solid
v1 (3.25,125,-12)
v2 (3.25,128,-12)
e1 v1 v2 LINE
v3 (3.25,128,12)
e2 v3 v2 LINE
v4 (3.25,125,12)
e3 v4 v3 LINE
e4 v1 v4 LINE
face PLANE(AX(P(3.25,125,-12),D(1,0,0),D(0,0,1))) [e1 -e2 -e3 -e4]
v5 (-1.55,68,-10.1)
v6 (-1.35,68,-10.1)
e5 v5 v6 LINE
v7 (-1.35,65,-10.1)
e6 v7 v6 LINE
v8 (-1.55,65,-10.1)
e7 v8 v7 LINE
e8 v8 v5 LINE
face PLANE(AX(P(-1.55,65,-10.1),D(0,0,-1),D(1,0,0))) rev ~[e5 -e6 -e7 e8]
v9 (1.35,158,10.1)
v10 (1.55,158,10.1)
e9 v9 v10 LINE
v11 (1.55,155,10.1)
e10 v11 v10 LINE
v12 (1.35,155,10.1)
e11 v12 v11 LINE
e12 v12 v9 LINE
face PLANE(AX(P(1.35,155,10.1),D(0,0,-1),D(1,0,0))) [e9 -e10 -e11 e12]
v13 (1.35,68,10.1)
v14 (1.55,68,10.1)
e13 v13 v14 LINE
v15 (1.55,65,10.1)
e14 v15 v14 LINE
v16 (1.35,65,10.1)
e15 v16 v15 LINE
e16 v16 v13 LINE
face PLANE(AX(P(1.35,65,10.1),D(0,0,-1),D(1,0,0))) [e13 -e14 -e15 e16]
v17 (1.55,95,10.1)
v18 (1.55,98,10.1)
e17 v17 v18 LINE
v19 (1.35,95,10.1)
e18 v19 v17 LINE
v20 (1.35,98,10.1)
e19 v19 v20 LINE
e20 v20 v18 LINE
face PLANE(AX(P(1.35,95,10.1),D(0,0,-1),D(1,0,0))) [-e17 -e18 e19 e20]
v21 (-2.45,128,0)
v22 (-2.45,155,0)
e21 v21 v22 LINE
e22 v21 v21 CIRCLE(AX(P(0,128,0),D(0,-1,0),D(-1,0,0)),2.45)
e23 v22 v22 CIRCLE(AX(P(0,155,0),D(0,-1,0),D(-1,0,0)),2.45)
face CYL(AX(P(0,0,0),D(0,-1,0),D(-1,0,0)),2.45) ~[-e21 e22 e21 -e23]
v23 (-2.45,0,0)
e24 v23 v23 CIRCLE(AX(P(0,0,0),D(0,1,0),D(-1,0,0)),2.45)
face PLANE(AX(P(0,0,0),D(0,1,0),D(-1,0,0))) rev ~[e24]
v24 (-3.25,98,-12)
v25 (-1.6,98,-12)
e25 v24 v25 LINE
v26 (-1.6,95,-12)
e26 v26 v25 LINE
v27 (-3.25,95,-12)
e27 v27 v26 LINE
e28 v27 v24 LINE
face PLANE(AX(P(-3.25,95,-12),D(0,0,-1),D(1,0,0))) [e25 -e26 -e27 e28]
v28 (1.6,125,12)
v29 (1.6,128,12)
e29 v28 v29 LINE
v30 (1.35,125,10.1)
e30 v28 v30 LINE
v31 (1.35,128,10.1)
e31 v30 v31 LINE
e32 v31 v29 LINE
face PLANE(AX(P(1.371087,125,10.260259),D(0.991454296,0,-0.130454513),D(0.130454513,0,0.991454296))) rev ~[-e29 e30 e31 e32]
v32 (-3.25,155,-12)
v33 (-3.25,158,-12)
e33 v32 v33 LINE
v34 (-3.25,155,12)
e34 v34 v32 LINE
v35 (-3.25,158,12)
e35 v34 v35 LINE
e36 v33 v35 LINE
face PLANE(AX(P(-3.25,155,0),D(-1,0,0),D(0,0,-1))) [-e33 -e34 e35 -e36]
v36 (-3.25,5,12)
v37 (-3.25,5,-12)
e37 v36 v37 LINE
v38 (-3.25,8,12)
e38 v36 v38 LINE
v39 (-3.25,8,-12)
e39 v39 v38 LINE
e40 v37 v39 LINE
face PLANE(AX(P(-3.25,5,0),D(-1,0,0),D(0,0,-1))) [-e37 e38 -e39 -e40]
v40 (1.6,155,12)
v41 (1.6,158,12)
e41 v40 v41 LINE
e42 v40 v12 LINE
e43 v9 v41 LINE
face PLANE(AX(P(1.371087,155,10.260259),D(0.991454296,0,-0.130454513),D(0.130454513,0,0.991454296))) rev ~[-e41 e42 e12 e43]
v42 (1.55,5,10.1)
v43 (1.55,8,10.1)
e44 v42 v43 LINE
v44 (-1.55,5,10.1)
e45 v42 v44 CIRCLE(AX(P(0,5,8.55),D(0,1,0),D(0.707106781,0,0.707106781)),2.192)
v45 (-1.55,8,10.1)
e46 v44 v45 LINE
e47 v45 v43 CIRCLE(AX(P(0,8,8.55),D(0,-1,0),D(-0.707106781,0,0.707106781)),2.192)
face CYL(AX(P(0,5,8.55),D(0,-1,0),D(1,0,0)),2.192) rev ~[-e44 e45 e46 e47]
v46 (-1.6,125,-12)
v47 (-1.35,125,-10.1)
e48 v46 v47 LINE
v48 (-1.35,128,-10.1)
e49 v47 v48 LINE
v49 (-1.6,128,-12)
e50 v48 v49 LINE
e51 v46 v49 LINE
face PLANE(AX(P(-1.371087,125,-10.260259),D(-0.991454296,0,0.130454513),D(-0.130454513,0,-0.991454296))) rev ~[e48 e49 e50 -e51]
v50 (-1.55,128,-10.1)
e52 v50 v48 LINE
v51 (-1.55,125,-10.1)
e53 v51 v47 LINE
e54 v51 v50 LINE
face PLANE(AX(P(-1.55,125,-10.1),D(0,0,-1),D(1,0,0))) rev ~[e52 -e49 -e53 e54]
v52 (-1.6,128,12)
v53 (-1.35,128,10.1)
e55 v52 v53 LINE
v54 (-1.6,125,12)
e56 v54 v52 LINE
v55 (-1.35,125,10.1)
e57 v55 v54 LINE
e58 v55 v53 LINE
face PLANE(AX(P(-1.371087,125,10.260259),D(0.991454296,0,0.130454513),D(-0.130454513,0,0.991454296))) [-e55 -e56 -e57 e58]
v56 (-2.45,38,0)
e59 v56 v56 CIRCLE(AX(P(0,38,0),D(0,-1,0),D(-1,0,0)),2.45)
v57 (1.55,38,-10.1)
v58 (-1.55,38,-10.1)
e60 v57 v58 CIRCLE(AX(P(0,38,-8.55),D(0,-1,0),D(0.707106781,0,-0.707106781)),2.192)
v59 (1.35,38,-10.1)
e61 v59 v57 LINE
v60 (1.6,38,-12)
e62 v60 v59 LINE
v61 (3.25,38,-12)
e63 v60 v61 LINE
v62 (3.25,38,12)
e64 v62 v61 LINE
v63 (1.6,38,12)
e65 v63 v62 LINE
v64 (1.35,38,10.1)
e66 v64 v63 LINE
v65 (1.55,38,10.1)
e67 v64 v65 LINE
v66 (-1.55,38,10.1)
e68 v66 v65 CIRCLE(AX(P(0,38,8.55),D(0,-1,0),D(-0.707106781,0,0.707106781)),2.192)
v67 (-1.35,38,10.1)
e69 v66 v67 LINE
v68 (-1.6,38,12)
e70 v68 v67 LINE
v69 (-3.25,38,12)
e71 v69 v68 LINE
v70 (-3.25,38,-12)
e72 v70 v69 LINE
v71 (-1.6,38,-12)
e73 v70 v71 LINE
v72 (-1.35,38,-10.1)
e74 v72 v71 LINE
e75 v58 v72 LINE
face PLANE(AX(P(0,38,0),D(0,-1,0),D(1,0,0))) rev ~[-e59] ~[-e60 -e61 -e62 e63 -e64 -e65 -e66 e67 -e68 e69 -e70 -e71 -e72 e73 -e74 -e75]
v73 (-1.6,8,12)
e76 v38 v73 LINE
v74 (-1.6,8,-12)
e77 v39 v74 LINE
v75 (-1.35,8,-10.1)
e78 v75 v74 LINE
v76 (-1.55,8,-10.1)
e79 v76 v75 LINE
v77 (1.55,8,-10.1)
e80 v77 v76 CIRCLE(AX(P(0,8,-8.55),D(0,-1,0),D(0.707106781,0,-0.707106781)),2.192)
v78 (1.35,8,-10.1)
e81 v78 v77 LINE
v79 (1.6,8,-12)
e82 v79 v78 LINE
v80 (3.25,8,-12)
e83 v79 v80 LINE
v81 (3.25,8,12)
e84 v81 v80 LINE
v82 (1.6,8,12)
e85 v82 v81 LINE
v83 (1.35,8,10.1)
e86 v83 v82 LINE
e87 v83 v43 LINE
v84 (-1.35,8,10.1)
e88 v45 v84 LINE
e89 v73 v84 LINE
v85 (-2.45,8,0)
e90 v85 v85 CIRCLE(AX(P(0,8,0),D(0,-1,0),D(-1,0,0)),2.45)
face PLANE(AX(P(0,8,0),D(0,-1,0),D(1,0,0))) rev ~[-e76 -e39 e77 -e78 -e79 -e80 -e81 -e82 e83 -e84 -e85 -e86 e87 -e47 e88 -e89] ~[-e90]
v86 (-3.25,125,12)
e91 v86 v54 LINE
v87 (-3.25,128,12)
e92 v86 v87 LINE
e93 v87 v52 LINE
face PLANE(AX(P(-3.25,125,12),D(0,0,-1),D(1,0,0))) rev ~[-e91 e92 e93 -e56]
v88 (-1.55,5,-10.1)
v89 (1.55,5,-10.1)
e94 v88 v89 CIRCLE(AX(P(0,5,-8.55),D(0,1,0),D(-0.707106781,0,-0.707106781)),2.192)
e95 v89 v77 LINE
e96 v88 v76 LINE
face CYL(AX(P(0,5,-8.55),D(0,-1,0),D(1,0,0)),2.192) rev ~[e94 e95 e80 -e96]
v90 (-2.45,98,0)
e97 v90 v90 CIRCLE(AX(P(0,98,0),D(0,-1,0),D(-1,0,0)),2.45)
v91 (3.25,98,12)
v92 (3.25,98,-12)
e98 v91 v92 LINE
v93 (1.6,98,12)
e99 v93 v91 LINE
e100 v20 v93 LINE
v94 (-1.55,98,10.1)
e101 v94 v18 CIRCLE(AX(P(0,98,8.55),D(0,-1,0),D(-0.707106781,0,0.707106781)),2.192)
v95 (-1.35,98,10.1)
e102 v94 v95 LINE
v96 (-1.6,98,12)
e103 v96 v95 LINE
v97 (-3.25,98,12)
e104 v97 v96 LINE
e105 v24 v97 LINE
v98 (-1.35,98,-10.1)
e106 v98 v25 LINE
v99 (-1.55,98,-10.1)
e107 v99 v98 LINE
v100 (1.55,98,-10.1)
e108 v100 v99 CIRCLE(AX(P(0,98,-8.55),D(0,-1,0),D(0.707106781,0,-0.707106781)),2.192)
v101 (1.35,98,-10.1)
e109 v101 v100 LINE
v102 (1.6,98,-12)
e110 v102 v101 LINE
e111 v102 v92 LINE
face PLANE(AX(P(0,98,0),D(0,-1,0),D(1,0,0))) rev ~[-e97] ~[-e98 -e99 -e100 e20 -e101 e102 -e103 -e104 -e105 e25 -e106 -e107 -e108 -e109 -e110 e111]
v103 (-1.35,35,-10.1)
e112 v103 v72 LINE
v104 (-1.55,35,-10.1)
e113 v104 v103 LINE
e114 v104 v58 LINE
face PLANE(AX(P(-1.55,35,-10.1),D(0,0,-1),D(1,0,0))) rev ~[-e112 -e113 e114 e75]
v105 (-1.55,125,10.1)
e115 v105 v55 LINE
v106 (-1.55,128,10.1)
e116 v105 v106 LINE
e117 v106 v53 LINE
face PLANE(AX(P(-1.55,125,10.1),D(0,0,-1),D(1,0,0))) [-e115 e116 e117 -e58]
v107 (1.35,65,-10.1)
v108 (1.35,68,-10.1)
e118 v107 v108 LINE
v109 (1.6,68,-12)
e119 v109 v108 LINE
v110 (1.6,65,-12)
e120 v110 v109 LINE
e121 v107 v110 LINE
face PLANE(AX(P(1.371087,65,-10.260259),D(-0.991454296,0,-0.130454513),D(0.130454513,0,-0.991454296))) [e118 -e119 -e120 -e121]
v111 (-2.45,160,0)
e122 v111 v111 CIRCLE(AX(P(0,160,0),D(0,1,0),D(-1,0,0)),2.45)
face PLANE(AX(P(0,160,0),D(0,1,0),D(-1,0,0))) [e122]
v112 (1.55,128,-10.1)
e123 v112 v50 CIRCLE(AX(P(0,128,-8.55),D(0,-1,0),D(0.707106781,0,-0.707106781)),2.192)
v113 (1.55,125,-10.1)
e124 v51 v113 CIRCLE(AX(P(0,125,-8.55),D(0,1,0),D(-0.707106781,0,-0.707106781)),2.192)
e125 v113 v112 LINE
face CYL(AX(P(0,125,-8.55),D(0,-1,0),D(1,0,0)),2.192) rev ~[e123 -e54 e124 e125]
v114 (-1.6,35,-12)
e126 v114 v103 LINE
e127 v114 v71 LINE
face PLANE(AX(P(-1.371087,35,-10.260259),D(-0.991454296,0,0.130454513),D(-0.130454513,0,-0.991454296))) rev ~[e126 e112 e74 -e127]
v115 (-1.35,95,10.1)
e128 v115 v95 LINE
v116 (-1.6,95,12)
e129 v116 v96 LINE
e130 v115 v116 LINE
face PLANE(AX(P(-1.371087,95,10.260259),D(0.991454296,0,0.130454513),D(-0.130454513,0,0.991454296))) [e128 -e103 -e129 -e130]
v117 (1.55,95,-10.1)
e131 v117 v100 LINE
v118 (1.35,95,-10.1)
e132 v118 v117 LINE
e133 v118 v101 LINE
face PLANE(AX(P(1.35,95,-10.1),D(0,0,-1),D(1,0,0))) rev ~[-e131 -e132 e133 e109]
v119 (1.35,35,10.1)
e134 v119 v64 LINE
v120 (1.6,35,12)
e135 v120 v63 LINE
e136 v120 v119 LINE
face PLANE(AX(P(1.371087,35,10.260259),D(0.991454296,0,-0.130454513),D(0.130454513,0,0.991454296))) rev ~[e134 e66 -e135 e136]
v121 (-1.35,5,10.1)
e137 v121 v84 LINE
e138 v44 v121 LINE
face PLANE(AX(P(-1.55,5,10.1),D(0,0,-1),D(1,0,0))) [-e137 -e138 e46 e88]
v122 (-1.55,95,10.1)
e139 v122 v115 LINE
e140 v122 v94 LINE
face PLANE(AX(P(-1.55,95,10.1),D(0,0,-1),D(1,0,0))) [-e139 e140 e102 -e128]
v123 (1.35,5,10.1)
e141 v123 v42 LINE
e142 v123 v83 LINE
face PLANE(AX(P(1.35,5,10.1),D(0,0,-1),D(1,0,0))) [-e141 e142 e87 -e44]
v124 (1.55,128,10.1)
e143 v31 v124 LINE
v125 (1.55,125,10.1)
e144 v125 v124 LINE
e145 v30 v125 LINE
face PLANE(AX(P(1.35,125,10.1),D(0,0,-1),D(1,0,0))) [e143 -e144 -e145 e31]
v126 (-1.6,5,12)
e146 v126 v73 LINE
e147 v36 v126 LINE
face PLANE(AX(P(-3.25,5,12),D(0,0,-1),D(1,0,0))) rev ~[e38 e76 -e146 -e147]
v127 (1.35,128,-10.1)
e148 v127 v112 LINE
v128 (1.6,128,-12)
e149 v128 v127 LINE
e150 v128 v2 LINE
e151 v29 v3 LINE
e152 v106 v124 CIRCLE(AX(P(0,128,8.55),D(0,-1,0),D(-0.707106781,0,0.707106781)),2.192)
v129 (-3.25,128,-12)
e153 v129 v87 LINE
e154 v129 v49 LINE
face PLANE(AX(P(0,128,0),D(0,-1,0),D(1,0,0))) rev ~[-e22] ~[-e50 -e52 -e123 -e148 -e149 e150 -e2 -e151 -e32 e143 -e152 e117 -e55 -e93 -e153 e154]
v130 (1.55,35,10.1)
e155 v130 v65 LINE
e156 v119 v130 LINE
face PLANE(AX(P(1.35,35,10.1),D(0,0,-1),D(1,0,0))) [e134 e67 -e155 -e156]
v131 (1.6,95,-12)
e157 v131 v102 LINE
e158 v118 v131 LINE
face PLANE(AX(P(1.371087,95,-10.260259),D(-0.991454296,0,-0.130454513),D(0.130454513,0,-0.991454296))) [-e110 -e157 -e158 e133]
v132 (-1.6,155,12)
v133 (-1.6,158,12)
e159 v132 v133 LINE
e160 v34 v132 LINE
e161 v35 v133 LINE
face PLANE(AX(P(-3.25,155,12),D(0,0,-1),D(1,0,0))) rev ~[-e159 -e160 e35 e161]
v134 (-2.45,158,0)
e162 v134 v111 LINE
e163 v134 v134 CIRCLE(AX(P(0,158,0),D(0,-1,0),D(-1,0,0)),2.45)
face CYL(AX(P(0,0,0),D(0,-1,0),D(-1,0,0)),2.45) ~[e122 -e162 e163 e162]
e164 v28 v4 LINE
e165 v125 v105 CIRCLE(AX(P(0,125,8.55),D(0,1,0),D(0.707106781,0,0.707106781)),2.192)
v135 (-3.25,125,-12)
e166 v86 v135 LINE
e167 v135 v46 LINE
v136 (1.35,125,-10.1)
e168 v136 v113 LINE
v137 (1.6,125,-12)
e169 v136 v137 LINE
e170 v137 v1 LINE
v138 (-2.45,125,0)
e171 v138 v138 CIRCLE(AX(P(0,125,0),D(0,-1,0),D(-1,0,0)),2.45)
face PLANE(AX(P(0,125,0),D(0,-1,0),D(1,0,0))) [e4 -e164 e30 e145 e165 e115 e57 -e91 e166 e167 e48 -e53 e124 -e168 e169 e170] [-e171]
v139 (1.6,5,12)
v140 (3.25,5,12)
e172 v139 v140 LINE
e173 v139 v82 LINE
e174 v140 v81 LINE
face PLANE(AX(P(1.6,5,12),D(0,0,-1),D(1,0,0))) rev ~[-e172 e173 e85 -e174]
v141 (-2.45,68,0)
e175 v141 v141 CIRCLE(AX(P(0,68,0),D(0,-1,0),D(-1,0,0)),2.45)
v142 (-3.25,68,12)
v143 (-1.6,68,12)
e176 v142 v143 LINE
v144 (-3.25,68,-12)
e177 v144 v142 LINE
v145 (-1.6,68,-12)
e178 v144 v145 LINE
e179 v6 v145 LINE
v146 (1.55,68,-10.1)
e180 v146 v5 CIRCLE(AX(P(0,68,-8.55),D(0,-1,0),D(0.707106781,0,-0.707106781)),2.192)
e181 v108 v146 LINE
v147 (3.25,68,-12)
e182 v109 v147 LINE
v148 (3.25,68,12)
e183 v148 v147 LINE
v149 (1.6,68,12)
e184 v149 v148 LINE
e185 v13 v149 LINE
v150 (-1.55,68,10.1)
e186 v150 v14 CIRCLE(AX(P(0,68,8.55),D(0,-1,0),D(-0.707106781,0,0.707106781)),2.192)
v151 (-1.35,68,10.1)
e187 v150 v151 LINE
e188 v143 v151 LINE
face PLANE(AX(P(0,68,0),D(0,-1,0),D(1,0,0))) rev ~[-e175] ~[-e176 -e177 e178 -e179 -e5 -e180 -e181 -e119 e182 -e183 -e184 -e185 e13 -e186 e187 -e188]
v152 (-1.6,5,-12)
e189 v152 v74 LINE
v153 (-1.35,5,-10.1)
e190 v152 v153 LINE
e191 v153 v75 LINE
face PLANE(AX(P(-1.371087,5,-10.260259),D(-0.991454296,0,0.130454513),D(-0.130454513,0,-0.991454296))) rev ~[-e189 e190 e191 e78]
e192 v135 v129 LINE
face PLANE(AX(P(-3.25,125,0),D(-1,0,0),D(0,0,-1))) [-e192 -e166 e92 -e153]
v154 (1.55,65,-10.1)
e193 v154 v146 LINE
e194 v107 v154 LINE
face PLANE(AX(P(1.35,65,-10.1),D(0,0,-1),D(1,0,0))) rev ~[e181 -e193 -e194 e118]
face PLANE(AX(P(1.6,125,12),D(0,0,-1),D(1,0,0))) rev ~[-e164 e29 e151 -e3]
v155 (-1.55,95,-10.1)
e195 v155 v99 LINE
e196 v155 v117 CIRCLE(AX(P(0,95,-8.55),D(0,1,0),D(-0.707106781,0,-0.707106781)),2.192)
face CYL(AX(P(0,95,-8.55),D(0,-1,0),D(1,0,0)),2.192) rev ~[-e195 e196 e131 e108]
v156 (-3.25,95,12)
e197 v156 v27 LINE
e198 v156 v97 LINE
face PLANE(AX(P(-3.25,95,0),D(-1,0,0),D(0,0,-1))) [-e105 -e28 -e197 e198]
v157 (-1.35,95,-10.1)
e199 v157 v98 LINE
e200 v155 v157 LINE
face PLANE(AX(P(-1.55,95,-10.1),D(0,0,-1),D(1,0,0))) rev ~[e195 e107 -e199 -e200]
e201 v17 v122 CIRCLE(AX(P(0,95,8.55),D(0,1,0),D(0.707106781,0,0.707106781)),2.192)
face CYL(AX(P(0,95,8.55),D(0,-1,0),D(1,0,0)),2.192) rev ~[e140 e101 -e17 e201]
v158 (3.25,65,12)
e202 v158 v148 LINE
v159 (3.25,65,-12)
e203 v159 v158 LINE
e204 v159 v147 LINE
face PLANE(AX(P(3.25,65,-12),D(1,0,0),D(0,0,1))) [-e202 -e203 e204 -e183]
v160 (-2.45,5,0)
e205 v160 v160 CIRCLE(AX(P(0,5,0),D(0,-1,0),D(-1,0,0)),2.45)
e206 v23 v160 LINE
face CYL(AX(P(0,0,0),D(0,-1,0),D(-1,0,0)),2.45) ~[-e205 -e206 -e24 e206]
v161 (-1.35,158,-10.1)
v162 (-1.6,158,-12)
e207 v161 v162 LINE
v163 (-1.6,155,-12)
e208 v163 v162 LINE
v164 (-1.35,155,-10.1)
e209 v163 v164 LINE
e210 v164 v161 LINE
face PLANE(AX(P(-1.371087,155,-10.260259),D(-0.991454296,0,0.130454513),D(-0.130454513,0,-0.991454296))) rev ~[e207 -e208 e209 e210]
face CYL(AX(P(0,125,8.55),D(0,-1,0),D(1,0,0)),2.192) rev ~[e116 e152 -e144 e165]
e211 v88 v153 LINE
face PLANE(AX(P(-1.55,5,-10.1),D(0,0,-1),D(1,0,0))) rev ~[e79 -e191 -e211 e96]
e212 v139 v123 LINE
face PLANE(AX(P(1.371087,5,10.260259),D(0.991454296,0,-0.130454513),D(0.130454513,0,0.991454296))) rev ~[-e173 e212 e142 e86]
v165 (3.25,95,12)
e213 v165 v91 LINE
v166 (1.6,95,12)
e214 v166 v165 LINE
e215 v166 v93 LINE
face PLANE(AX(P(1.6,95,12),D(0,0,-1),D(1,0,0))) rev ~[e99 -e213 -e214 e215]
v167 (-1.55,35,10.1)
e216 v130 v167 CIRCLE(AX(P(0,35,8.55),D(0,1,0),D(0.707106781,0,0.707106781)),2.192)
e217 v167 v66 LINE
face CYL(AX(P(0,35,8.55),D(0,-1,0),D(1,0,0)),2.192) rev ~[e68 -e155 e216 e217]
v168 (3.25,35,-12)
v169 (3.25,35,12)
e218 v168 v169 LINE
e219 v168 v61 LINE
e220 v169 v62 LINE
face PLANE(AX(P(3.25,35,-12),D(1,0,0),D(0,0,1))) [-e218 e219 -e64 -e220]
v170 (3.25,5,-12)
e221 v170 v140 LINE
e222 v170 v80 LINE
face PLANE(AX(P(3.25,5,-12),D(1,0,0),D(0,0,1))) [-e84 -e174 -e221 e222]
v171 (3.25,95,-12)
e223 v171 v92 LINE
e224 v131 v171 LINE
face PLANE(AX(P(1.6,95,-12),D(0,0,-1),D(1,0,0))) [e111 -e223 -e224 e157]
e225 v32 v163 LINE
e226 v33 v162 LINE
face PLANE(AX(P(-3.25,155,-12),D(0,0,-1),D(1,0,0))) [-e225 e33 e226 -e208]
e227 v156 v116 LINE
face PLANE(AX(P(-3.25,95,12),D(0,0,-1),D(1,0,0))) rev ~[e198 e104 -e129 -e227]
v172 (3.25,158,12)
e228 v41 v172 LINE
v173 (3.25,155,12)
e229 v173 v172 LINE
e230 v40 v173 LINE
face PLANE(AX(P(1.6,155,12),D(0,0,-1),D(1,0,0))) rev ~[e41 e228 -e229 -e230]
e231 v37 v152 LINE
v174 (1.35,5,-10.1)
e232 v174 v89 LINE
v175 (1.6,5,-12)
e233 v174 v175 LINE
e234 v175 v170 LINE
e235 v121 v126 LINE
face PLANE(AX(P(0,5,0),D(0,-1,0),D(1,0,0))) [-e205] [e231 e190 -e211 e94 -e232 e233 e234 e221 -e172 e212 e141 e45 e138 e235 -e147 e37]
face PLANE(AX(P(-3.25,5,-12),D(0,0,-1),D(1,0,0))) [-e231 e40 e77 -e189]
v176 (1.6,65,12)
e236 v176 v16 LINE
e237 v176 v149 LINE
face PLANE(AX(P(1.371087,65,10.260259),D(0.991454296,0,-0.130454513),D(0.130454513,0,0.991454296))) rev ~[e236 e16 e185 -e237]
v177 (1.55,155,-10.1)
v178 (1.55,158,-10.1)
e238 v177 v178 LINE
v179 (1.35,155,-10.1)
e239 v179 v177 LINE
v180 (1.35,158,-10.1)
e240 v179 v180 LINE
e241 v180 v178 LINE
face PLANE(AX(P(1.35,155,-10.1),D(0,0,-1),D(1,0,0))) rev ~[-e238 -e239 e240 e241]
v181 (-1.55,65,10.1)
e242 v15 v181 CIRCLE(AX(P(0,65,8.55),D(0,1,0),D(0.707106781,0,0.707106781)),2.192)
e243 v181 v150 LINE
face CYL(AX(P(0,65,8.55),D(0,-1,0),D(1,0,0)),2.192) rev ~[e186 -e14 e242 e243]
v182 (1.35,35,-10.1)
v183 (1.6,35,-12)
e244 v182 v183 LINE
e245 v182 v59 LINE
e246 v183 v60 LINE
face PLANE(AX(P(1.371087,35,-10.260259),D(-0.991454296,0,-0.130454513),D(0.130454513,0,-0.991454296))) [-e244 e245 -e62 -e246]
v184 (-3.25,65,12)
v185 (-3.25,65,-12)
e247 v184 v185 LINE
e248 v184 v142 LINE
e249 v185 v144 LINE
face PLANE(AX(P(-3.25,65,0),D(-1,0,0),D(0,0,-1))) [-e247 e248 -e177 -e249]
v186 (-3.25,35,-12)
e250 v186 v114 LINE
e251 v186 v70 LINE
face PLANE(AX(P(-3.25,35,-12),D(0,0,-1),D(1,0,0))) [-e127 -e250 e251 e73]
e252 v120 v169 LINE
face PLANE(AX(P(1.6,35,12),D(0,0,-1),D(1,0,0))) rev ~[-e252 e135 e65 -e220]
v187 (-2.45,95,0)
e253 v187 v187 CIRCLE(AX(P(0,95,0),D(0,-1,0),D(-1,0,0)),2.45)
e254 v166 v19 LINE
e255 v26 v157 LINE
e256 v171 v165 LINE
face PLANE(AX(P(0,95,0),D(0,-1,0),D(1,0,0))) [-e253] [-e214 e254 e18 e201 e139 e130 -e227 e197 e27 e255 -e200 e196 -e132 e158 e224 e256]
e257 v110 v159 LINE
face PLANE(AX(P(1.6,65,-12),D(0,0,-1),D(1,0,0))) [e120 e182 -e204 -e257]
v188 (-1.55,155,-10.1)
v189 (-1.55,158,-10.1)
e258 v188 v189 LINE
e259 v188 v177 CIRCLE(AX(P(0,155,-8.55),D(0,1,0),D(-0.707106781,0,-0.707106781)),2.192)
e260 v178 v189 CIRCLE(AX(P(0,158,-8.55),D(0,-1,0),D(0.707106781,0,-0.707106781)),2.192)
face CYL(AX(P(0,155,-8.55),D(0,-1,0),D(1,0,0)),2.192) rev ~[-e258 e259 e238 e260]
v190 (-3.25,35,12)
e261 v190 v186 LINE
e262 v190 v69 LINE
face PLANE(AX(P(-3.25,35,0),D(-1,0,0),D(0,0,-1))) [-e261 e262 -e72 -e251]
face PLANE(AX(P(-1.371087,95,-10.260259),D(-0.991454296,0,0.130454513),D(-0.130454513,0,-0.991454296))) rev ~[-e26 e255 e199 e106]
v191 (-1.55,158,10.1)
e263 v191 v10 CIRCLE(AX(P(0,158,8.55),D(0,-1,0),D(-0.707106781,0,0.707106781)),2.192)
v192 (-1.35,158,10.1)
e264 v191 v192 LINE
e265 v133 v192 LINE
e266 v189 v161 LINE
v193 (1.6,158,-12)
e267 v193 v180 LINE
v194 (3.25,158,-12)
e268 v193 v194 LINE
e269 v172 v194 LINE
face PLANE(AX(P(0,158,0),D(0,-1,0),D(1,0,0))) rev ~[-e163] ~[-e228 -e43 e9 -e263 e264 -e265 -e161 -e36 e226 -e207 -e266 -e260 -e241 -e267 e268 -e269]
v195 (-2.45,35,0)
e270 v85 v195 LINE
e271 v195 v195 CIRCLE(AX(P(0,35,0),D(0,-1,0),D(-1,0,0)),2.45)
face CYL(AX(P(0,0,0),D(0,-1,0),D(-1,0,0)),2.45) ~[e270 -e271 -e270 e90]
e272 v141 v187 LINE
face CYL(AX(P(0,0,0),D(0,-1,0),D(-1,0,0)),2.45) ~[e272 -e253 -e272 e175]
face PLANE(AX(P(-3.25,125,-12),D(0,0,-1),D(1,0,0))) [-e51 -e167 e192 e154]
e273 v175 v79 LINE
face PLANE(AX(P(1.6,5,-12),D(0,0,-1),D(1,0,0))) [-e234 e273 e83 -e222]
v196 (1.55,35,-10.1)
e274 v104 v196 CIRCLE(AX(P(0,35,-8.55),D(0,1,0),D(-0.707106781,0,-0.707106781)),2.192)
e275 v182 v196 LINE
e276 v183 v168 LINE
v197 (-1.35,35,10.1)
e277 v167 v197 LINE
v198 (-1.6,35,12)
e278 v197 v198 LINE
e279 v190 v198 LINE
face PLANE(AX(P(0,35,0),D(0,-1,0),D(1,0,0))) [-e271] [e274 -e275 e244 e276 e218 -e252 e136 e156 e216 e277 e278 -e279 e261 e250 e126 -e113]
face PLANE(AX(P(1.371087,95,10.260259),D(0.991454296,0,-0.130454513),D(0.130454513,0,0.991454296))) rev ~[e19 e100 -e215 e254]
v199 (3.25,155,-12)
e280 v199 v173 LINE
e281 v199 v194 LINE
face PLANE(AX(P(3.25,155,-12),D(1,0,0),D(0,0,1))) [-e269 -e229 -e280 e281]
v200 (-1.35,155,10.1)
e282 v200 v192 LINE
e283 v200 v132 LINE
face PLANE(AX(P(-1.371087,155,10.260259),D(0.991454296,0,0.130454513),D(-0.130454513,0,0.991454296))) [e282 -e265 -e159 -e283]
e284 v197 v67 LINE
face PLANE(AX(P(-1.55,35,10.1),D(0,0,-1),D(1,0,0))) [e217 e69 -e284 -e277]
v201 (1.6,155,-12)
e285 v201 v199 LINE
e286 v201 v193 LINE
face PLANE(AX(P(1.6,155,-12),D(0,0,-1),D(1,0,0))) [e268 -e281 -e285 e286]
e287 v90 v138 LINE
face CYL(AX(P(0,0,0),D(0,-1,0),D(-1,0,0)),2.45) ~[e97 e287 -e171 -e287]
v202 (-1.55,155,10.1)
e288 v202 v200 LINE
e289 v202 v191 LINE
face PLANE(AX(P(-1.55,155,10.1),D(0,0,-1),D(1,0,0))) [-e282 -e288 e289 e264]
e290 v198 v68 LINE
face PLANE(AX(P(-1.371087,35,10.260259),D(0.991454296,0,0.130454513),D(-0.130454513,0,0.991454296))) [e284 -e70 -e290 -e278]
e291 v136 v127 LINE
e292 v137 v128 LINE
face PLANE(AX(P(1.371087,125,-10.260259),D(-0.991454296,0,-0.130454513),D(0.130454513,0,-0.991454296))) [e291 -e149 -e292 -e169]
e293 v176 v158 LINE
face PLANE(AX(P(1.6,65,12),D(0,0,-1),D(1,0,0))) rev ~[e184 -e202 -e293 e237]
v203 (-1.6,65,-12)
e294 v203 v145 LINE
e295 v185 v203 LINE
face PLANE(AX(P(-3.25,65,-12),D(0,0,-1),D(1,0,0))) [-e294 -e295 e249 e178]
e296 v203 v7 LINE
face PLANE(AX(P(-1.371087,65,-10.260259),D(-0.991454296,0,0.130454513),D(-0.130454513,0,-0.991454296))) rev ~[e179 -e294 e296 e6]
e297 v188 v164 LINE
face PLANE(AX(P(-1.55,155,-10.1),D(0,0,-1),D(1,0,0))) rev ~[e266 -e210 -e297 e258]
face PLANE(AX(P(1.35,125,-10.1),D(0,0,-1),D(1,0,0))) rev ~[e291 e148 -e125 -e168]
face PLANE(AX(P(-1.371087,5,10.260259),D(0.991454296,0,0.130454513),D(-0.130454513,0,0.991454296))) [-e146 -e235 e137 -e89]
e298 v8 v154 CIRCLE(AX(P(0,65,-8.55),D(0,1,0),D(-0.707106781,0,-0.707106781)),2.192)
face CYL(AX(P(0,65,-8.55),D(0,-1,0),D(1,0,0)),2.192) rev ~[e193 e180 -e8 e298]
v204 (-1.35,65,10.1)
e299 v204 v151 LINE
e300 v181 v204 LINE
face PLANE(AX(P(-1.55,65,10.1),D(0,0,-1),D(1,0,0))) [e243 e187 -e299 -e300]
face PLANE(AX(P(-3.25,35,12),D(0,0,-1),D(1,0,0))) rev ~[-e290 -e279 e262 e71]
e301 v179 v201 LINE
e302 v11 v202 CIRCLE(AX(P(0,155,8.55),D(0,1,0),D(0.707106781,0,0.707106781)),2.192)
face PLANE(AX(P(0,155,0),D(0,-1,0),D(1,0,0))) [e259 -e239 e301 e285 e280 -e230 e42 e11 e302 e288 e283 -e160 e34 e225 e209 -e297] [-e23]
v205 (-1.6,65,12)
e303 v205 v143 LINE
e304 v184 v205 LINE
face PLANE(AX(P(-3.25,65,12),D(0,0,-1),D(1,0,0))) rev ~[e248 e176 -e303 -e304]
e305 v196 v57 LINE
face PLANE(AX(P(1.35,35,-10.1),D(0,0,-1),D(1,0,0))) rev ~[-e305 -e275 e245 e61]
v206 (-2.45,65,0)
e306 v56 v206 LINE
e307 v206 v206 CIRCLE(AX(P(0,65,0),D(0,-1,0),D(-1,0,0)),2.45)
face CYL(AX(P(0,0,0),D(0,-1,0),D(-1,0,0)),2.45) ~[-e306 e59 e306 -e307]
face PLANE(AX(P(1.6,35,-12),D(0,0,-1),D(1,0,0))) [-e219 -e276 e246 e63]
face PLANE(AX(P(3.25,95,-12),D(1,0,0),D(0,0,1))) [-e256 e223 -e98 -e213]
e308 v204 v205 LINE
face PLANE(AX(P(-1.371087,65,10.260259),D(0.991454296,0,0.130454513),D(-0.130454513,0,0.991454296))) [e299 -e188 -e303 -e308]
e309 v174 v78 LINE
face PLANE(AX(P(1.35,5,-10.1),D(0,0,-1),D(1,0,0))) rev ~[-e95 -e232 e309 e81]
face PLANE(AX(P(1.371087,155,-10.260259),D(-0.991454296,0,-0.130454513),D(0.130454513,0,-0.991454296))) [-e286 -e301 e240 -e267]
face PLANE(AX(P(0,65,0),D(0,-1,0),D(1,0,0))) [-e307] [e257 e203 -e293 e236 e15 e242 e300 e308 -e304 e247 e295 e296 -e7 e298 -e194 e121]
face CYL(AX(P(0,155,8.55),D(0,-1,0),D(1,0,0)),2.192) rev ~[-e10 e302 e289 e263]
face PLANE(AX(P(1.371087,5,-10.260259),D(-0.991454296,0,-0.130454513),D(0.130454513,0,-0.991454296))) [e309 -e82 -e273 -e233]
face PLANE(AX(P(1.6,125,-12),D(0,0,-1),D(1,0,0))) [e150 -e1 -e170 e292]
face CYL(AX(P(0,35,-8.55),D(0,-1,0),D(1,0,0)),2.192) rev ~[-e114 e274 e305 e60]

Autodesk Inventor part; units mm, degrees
ref_plane "YZ Plane" through (0, 0, 0) normal (1, 0, 0) x (0, 1, 0)
ref_plane "XZ Plane" through (0, 0, 0) normal (0, 1, 0) x (-1, 0, 0)
sketch "草圖1" plane through (0, 0, 0) normal (0, 1, 0) x (-1, 0, 0)
  circle A0 centre (0, 0) radius 2.45
  dimension "d0" = 4.9
extrude "擠出1" add sketch "草圖1" along normal blind 160
ref_plane "工作平面1" through (0, 5, 0) normal (0, -1, 0) x (1, 0, 0)
sketch "草圖3" plane through (0, 5, 0) normal (0, -1, 0) x (1, 0, 0)
  circle A0 centre (0, 0) radius 2.45 projected
  circle A1 centre (0, 0) radius 3.25
  line L0 (3.25, 0) -> (-3.25, 0)
  line L1 (-3.25, 0) -> (-3.25, -12)
  line L2 (-3.25, -12) -> (3.25, -12)
  line L3 (3.25, -12) -> (3.25, 0)
  line L4 (1.6, -12) -> (-1.6, -12)
  line L5 (-1.6, -12) -> (-1.6, -7)
  line L6 (-1.6, -7) -> (1.6, -7)
  line L7 (1.6, -7) -> (1.6, -12)
  line L8 (1.55, -7) -> (-1.55, -7)
  line L9 (-1.55, -7) -> (-1.55, -10.1)
  line L10 (-1.55, -10.1) -> (1.55, -10.1)
  line L11 (1.55, -10.1) -> (1.55, -7)
  line L12 (1.55, -10.1) -> (1.35, -10.1)
  line L13 (1.35, -10.1) -> (1.6, -12)
  line L14 (-1.55, -10.1) -> (-1.35, -10.1)
  line L15 (-1.35, -10.1) -> (-1.6, -12)
  circle A2 centre (0, -8.55) radius 2.192
  line L16 (-3.25, 0) -> (-3.25, 12)
  line L17 (-3.25, 12) -> (3.25, 12)
  line L18 (3.25, 12) -> (3.25, 0)
  line L19 (1.6, 12) -> (-1.6, 12)
  line L20 (-1.6, 12) -> (-1.6, 7)
  line L21 (-1.6, 7) -> (1.6, 7)
  line L22 (1.6, 7) -> (1.6, 12)
  line L23 (1.55, 7) -> (-1.55, 7)
  line L24 (-1.55, 7) -> (-1.55, 10.1)
  line L25 (-1.55, 10.1) -> (1.55, 10.1)
  line L26 (1.55, 10.1) -> (1.55, 7)
  line L27 (1.55, 10.1) -> (1.35, 10.1)
  line L28 (1.35, 10.1) -> (1.6, 12)
  line L29 (-1.55, 10.1) -> (-1.35, 10.1)
  line L30 (-1.35, 10.1) -> (-1.6, 12)
  circle A3 centre (0, 8.55) radius 2.192
  point P0 (0, -12)
  point P1 (0, -12)
  point P2 (0, -7)
  point P3 (-1.55, -7)
  point P4 (1.55, -7)
  point P5 (-1.55, -8.55)
  point P6 (-1.3711, -10.2603)
  point P7 (1.3711, -10.2603)
  point P8 (0, 12)
  point P9 (0, 12)
  point P10 (0, 7)
  point P11 (-1.55, 8.55)
  point P12 (1.3711, 10.2603)
  point P13 (-1.3711, 10.2603)
  point P14 (0.9915, 3.095)
  point P15 (-0.9915, 3.095)
  point P16 (-1.55, 10.1)
  point P17 (-1.55, -10.1)
  point P18 (-1.55, -10.1)
  dimension "d17" = 6.5
  dimension "d9" = 12
  dimension "d11" = 5
  dimension "d12" = 3.2
  dimension "d13" = 3.1
  dimension "d14" = 3.1
  dimension "d15" = 0.2
  dimension "d16" = 0.2
  dimension "d18" = 6.5
extrude "擠出3" add sketch "草圖3" against normal blind 3 contours L0 A1 A0 | A0 L0 A1 | L3 L2 L7 A2 L6 L5 L1 A1 | A1 L16 L17 L20 A3 L21 L22 L18 | L13 A2 L7 | L22 A3 L28 | L5 A2 L15 | L30 A3 L20 | L13 L10 A2 | A3 L25 L28 | A2 L10 L15 | L30 L25 A3 | A2 L6 L7 | L22 L21 A3 | L5 L6 A2 | A3 L21 L20
pattern_linear "矩形陣列1" count 6 spacing 30 along (0, 1, 0) of "擠出3"
properties part number "[3DP]double_bar"
